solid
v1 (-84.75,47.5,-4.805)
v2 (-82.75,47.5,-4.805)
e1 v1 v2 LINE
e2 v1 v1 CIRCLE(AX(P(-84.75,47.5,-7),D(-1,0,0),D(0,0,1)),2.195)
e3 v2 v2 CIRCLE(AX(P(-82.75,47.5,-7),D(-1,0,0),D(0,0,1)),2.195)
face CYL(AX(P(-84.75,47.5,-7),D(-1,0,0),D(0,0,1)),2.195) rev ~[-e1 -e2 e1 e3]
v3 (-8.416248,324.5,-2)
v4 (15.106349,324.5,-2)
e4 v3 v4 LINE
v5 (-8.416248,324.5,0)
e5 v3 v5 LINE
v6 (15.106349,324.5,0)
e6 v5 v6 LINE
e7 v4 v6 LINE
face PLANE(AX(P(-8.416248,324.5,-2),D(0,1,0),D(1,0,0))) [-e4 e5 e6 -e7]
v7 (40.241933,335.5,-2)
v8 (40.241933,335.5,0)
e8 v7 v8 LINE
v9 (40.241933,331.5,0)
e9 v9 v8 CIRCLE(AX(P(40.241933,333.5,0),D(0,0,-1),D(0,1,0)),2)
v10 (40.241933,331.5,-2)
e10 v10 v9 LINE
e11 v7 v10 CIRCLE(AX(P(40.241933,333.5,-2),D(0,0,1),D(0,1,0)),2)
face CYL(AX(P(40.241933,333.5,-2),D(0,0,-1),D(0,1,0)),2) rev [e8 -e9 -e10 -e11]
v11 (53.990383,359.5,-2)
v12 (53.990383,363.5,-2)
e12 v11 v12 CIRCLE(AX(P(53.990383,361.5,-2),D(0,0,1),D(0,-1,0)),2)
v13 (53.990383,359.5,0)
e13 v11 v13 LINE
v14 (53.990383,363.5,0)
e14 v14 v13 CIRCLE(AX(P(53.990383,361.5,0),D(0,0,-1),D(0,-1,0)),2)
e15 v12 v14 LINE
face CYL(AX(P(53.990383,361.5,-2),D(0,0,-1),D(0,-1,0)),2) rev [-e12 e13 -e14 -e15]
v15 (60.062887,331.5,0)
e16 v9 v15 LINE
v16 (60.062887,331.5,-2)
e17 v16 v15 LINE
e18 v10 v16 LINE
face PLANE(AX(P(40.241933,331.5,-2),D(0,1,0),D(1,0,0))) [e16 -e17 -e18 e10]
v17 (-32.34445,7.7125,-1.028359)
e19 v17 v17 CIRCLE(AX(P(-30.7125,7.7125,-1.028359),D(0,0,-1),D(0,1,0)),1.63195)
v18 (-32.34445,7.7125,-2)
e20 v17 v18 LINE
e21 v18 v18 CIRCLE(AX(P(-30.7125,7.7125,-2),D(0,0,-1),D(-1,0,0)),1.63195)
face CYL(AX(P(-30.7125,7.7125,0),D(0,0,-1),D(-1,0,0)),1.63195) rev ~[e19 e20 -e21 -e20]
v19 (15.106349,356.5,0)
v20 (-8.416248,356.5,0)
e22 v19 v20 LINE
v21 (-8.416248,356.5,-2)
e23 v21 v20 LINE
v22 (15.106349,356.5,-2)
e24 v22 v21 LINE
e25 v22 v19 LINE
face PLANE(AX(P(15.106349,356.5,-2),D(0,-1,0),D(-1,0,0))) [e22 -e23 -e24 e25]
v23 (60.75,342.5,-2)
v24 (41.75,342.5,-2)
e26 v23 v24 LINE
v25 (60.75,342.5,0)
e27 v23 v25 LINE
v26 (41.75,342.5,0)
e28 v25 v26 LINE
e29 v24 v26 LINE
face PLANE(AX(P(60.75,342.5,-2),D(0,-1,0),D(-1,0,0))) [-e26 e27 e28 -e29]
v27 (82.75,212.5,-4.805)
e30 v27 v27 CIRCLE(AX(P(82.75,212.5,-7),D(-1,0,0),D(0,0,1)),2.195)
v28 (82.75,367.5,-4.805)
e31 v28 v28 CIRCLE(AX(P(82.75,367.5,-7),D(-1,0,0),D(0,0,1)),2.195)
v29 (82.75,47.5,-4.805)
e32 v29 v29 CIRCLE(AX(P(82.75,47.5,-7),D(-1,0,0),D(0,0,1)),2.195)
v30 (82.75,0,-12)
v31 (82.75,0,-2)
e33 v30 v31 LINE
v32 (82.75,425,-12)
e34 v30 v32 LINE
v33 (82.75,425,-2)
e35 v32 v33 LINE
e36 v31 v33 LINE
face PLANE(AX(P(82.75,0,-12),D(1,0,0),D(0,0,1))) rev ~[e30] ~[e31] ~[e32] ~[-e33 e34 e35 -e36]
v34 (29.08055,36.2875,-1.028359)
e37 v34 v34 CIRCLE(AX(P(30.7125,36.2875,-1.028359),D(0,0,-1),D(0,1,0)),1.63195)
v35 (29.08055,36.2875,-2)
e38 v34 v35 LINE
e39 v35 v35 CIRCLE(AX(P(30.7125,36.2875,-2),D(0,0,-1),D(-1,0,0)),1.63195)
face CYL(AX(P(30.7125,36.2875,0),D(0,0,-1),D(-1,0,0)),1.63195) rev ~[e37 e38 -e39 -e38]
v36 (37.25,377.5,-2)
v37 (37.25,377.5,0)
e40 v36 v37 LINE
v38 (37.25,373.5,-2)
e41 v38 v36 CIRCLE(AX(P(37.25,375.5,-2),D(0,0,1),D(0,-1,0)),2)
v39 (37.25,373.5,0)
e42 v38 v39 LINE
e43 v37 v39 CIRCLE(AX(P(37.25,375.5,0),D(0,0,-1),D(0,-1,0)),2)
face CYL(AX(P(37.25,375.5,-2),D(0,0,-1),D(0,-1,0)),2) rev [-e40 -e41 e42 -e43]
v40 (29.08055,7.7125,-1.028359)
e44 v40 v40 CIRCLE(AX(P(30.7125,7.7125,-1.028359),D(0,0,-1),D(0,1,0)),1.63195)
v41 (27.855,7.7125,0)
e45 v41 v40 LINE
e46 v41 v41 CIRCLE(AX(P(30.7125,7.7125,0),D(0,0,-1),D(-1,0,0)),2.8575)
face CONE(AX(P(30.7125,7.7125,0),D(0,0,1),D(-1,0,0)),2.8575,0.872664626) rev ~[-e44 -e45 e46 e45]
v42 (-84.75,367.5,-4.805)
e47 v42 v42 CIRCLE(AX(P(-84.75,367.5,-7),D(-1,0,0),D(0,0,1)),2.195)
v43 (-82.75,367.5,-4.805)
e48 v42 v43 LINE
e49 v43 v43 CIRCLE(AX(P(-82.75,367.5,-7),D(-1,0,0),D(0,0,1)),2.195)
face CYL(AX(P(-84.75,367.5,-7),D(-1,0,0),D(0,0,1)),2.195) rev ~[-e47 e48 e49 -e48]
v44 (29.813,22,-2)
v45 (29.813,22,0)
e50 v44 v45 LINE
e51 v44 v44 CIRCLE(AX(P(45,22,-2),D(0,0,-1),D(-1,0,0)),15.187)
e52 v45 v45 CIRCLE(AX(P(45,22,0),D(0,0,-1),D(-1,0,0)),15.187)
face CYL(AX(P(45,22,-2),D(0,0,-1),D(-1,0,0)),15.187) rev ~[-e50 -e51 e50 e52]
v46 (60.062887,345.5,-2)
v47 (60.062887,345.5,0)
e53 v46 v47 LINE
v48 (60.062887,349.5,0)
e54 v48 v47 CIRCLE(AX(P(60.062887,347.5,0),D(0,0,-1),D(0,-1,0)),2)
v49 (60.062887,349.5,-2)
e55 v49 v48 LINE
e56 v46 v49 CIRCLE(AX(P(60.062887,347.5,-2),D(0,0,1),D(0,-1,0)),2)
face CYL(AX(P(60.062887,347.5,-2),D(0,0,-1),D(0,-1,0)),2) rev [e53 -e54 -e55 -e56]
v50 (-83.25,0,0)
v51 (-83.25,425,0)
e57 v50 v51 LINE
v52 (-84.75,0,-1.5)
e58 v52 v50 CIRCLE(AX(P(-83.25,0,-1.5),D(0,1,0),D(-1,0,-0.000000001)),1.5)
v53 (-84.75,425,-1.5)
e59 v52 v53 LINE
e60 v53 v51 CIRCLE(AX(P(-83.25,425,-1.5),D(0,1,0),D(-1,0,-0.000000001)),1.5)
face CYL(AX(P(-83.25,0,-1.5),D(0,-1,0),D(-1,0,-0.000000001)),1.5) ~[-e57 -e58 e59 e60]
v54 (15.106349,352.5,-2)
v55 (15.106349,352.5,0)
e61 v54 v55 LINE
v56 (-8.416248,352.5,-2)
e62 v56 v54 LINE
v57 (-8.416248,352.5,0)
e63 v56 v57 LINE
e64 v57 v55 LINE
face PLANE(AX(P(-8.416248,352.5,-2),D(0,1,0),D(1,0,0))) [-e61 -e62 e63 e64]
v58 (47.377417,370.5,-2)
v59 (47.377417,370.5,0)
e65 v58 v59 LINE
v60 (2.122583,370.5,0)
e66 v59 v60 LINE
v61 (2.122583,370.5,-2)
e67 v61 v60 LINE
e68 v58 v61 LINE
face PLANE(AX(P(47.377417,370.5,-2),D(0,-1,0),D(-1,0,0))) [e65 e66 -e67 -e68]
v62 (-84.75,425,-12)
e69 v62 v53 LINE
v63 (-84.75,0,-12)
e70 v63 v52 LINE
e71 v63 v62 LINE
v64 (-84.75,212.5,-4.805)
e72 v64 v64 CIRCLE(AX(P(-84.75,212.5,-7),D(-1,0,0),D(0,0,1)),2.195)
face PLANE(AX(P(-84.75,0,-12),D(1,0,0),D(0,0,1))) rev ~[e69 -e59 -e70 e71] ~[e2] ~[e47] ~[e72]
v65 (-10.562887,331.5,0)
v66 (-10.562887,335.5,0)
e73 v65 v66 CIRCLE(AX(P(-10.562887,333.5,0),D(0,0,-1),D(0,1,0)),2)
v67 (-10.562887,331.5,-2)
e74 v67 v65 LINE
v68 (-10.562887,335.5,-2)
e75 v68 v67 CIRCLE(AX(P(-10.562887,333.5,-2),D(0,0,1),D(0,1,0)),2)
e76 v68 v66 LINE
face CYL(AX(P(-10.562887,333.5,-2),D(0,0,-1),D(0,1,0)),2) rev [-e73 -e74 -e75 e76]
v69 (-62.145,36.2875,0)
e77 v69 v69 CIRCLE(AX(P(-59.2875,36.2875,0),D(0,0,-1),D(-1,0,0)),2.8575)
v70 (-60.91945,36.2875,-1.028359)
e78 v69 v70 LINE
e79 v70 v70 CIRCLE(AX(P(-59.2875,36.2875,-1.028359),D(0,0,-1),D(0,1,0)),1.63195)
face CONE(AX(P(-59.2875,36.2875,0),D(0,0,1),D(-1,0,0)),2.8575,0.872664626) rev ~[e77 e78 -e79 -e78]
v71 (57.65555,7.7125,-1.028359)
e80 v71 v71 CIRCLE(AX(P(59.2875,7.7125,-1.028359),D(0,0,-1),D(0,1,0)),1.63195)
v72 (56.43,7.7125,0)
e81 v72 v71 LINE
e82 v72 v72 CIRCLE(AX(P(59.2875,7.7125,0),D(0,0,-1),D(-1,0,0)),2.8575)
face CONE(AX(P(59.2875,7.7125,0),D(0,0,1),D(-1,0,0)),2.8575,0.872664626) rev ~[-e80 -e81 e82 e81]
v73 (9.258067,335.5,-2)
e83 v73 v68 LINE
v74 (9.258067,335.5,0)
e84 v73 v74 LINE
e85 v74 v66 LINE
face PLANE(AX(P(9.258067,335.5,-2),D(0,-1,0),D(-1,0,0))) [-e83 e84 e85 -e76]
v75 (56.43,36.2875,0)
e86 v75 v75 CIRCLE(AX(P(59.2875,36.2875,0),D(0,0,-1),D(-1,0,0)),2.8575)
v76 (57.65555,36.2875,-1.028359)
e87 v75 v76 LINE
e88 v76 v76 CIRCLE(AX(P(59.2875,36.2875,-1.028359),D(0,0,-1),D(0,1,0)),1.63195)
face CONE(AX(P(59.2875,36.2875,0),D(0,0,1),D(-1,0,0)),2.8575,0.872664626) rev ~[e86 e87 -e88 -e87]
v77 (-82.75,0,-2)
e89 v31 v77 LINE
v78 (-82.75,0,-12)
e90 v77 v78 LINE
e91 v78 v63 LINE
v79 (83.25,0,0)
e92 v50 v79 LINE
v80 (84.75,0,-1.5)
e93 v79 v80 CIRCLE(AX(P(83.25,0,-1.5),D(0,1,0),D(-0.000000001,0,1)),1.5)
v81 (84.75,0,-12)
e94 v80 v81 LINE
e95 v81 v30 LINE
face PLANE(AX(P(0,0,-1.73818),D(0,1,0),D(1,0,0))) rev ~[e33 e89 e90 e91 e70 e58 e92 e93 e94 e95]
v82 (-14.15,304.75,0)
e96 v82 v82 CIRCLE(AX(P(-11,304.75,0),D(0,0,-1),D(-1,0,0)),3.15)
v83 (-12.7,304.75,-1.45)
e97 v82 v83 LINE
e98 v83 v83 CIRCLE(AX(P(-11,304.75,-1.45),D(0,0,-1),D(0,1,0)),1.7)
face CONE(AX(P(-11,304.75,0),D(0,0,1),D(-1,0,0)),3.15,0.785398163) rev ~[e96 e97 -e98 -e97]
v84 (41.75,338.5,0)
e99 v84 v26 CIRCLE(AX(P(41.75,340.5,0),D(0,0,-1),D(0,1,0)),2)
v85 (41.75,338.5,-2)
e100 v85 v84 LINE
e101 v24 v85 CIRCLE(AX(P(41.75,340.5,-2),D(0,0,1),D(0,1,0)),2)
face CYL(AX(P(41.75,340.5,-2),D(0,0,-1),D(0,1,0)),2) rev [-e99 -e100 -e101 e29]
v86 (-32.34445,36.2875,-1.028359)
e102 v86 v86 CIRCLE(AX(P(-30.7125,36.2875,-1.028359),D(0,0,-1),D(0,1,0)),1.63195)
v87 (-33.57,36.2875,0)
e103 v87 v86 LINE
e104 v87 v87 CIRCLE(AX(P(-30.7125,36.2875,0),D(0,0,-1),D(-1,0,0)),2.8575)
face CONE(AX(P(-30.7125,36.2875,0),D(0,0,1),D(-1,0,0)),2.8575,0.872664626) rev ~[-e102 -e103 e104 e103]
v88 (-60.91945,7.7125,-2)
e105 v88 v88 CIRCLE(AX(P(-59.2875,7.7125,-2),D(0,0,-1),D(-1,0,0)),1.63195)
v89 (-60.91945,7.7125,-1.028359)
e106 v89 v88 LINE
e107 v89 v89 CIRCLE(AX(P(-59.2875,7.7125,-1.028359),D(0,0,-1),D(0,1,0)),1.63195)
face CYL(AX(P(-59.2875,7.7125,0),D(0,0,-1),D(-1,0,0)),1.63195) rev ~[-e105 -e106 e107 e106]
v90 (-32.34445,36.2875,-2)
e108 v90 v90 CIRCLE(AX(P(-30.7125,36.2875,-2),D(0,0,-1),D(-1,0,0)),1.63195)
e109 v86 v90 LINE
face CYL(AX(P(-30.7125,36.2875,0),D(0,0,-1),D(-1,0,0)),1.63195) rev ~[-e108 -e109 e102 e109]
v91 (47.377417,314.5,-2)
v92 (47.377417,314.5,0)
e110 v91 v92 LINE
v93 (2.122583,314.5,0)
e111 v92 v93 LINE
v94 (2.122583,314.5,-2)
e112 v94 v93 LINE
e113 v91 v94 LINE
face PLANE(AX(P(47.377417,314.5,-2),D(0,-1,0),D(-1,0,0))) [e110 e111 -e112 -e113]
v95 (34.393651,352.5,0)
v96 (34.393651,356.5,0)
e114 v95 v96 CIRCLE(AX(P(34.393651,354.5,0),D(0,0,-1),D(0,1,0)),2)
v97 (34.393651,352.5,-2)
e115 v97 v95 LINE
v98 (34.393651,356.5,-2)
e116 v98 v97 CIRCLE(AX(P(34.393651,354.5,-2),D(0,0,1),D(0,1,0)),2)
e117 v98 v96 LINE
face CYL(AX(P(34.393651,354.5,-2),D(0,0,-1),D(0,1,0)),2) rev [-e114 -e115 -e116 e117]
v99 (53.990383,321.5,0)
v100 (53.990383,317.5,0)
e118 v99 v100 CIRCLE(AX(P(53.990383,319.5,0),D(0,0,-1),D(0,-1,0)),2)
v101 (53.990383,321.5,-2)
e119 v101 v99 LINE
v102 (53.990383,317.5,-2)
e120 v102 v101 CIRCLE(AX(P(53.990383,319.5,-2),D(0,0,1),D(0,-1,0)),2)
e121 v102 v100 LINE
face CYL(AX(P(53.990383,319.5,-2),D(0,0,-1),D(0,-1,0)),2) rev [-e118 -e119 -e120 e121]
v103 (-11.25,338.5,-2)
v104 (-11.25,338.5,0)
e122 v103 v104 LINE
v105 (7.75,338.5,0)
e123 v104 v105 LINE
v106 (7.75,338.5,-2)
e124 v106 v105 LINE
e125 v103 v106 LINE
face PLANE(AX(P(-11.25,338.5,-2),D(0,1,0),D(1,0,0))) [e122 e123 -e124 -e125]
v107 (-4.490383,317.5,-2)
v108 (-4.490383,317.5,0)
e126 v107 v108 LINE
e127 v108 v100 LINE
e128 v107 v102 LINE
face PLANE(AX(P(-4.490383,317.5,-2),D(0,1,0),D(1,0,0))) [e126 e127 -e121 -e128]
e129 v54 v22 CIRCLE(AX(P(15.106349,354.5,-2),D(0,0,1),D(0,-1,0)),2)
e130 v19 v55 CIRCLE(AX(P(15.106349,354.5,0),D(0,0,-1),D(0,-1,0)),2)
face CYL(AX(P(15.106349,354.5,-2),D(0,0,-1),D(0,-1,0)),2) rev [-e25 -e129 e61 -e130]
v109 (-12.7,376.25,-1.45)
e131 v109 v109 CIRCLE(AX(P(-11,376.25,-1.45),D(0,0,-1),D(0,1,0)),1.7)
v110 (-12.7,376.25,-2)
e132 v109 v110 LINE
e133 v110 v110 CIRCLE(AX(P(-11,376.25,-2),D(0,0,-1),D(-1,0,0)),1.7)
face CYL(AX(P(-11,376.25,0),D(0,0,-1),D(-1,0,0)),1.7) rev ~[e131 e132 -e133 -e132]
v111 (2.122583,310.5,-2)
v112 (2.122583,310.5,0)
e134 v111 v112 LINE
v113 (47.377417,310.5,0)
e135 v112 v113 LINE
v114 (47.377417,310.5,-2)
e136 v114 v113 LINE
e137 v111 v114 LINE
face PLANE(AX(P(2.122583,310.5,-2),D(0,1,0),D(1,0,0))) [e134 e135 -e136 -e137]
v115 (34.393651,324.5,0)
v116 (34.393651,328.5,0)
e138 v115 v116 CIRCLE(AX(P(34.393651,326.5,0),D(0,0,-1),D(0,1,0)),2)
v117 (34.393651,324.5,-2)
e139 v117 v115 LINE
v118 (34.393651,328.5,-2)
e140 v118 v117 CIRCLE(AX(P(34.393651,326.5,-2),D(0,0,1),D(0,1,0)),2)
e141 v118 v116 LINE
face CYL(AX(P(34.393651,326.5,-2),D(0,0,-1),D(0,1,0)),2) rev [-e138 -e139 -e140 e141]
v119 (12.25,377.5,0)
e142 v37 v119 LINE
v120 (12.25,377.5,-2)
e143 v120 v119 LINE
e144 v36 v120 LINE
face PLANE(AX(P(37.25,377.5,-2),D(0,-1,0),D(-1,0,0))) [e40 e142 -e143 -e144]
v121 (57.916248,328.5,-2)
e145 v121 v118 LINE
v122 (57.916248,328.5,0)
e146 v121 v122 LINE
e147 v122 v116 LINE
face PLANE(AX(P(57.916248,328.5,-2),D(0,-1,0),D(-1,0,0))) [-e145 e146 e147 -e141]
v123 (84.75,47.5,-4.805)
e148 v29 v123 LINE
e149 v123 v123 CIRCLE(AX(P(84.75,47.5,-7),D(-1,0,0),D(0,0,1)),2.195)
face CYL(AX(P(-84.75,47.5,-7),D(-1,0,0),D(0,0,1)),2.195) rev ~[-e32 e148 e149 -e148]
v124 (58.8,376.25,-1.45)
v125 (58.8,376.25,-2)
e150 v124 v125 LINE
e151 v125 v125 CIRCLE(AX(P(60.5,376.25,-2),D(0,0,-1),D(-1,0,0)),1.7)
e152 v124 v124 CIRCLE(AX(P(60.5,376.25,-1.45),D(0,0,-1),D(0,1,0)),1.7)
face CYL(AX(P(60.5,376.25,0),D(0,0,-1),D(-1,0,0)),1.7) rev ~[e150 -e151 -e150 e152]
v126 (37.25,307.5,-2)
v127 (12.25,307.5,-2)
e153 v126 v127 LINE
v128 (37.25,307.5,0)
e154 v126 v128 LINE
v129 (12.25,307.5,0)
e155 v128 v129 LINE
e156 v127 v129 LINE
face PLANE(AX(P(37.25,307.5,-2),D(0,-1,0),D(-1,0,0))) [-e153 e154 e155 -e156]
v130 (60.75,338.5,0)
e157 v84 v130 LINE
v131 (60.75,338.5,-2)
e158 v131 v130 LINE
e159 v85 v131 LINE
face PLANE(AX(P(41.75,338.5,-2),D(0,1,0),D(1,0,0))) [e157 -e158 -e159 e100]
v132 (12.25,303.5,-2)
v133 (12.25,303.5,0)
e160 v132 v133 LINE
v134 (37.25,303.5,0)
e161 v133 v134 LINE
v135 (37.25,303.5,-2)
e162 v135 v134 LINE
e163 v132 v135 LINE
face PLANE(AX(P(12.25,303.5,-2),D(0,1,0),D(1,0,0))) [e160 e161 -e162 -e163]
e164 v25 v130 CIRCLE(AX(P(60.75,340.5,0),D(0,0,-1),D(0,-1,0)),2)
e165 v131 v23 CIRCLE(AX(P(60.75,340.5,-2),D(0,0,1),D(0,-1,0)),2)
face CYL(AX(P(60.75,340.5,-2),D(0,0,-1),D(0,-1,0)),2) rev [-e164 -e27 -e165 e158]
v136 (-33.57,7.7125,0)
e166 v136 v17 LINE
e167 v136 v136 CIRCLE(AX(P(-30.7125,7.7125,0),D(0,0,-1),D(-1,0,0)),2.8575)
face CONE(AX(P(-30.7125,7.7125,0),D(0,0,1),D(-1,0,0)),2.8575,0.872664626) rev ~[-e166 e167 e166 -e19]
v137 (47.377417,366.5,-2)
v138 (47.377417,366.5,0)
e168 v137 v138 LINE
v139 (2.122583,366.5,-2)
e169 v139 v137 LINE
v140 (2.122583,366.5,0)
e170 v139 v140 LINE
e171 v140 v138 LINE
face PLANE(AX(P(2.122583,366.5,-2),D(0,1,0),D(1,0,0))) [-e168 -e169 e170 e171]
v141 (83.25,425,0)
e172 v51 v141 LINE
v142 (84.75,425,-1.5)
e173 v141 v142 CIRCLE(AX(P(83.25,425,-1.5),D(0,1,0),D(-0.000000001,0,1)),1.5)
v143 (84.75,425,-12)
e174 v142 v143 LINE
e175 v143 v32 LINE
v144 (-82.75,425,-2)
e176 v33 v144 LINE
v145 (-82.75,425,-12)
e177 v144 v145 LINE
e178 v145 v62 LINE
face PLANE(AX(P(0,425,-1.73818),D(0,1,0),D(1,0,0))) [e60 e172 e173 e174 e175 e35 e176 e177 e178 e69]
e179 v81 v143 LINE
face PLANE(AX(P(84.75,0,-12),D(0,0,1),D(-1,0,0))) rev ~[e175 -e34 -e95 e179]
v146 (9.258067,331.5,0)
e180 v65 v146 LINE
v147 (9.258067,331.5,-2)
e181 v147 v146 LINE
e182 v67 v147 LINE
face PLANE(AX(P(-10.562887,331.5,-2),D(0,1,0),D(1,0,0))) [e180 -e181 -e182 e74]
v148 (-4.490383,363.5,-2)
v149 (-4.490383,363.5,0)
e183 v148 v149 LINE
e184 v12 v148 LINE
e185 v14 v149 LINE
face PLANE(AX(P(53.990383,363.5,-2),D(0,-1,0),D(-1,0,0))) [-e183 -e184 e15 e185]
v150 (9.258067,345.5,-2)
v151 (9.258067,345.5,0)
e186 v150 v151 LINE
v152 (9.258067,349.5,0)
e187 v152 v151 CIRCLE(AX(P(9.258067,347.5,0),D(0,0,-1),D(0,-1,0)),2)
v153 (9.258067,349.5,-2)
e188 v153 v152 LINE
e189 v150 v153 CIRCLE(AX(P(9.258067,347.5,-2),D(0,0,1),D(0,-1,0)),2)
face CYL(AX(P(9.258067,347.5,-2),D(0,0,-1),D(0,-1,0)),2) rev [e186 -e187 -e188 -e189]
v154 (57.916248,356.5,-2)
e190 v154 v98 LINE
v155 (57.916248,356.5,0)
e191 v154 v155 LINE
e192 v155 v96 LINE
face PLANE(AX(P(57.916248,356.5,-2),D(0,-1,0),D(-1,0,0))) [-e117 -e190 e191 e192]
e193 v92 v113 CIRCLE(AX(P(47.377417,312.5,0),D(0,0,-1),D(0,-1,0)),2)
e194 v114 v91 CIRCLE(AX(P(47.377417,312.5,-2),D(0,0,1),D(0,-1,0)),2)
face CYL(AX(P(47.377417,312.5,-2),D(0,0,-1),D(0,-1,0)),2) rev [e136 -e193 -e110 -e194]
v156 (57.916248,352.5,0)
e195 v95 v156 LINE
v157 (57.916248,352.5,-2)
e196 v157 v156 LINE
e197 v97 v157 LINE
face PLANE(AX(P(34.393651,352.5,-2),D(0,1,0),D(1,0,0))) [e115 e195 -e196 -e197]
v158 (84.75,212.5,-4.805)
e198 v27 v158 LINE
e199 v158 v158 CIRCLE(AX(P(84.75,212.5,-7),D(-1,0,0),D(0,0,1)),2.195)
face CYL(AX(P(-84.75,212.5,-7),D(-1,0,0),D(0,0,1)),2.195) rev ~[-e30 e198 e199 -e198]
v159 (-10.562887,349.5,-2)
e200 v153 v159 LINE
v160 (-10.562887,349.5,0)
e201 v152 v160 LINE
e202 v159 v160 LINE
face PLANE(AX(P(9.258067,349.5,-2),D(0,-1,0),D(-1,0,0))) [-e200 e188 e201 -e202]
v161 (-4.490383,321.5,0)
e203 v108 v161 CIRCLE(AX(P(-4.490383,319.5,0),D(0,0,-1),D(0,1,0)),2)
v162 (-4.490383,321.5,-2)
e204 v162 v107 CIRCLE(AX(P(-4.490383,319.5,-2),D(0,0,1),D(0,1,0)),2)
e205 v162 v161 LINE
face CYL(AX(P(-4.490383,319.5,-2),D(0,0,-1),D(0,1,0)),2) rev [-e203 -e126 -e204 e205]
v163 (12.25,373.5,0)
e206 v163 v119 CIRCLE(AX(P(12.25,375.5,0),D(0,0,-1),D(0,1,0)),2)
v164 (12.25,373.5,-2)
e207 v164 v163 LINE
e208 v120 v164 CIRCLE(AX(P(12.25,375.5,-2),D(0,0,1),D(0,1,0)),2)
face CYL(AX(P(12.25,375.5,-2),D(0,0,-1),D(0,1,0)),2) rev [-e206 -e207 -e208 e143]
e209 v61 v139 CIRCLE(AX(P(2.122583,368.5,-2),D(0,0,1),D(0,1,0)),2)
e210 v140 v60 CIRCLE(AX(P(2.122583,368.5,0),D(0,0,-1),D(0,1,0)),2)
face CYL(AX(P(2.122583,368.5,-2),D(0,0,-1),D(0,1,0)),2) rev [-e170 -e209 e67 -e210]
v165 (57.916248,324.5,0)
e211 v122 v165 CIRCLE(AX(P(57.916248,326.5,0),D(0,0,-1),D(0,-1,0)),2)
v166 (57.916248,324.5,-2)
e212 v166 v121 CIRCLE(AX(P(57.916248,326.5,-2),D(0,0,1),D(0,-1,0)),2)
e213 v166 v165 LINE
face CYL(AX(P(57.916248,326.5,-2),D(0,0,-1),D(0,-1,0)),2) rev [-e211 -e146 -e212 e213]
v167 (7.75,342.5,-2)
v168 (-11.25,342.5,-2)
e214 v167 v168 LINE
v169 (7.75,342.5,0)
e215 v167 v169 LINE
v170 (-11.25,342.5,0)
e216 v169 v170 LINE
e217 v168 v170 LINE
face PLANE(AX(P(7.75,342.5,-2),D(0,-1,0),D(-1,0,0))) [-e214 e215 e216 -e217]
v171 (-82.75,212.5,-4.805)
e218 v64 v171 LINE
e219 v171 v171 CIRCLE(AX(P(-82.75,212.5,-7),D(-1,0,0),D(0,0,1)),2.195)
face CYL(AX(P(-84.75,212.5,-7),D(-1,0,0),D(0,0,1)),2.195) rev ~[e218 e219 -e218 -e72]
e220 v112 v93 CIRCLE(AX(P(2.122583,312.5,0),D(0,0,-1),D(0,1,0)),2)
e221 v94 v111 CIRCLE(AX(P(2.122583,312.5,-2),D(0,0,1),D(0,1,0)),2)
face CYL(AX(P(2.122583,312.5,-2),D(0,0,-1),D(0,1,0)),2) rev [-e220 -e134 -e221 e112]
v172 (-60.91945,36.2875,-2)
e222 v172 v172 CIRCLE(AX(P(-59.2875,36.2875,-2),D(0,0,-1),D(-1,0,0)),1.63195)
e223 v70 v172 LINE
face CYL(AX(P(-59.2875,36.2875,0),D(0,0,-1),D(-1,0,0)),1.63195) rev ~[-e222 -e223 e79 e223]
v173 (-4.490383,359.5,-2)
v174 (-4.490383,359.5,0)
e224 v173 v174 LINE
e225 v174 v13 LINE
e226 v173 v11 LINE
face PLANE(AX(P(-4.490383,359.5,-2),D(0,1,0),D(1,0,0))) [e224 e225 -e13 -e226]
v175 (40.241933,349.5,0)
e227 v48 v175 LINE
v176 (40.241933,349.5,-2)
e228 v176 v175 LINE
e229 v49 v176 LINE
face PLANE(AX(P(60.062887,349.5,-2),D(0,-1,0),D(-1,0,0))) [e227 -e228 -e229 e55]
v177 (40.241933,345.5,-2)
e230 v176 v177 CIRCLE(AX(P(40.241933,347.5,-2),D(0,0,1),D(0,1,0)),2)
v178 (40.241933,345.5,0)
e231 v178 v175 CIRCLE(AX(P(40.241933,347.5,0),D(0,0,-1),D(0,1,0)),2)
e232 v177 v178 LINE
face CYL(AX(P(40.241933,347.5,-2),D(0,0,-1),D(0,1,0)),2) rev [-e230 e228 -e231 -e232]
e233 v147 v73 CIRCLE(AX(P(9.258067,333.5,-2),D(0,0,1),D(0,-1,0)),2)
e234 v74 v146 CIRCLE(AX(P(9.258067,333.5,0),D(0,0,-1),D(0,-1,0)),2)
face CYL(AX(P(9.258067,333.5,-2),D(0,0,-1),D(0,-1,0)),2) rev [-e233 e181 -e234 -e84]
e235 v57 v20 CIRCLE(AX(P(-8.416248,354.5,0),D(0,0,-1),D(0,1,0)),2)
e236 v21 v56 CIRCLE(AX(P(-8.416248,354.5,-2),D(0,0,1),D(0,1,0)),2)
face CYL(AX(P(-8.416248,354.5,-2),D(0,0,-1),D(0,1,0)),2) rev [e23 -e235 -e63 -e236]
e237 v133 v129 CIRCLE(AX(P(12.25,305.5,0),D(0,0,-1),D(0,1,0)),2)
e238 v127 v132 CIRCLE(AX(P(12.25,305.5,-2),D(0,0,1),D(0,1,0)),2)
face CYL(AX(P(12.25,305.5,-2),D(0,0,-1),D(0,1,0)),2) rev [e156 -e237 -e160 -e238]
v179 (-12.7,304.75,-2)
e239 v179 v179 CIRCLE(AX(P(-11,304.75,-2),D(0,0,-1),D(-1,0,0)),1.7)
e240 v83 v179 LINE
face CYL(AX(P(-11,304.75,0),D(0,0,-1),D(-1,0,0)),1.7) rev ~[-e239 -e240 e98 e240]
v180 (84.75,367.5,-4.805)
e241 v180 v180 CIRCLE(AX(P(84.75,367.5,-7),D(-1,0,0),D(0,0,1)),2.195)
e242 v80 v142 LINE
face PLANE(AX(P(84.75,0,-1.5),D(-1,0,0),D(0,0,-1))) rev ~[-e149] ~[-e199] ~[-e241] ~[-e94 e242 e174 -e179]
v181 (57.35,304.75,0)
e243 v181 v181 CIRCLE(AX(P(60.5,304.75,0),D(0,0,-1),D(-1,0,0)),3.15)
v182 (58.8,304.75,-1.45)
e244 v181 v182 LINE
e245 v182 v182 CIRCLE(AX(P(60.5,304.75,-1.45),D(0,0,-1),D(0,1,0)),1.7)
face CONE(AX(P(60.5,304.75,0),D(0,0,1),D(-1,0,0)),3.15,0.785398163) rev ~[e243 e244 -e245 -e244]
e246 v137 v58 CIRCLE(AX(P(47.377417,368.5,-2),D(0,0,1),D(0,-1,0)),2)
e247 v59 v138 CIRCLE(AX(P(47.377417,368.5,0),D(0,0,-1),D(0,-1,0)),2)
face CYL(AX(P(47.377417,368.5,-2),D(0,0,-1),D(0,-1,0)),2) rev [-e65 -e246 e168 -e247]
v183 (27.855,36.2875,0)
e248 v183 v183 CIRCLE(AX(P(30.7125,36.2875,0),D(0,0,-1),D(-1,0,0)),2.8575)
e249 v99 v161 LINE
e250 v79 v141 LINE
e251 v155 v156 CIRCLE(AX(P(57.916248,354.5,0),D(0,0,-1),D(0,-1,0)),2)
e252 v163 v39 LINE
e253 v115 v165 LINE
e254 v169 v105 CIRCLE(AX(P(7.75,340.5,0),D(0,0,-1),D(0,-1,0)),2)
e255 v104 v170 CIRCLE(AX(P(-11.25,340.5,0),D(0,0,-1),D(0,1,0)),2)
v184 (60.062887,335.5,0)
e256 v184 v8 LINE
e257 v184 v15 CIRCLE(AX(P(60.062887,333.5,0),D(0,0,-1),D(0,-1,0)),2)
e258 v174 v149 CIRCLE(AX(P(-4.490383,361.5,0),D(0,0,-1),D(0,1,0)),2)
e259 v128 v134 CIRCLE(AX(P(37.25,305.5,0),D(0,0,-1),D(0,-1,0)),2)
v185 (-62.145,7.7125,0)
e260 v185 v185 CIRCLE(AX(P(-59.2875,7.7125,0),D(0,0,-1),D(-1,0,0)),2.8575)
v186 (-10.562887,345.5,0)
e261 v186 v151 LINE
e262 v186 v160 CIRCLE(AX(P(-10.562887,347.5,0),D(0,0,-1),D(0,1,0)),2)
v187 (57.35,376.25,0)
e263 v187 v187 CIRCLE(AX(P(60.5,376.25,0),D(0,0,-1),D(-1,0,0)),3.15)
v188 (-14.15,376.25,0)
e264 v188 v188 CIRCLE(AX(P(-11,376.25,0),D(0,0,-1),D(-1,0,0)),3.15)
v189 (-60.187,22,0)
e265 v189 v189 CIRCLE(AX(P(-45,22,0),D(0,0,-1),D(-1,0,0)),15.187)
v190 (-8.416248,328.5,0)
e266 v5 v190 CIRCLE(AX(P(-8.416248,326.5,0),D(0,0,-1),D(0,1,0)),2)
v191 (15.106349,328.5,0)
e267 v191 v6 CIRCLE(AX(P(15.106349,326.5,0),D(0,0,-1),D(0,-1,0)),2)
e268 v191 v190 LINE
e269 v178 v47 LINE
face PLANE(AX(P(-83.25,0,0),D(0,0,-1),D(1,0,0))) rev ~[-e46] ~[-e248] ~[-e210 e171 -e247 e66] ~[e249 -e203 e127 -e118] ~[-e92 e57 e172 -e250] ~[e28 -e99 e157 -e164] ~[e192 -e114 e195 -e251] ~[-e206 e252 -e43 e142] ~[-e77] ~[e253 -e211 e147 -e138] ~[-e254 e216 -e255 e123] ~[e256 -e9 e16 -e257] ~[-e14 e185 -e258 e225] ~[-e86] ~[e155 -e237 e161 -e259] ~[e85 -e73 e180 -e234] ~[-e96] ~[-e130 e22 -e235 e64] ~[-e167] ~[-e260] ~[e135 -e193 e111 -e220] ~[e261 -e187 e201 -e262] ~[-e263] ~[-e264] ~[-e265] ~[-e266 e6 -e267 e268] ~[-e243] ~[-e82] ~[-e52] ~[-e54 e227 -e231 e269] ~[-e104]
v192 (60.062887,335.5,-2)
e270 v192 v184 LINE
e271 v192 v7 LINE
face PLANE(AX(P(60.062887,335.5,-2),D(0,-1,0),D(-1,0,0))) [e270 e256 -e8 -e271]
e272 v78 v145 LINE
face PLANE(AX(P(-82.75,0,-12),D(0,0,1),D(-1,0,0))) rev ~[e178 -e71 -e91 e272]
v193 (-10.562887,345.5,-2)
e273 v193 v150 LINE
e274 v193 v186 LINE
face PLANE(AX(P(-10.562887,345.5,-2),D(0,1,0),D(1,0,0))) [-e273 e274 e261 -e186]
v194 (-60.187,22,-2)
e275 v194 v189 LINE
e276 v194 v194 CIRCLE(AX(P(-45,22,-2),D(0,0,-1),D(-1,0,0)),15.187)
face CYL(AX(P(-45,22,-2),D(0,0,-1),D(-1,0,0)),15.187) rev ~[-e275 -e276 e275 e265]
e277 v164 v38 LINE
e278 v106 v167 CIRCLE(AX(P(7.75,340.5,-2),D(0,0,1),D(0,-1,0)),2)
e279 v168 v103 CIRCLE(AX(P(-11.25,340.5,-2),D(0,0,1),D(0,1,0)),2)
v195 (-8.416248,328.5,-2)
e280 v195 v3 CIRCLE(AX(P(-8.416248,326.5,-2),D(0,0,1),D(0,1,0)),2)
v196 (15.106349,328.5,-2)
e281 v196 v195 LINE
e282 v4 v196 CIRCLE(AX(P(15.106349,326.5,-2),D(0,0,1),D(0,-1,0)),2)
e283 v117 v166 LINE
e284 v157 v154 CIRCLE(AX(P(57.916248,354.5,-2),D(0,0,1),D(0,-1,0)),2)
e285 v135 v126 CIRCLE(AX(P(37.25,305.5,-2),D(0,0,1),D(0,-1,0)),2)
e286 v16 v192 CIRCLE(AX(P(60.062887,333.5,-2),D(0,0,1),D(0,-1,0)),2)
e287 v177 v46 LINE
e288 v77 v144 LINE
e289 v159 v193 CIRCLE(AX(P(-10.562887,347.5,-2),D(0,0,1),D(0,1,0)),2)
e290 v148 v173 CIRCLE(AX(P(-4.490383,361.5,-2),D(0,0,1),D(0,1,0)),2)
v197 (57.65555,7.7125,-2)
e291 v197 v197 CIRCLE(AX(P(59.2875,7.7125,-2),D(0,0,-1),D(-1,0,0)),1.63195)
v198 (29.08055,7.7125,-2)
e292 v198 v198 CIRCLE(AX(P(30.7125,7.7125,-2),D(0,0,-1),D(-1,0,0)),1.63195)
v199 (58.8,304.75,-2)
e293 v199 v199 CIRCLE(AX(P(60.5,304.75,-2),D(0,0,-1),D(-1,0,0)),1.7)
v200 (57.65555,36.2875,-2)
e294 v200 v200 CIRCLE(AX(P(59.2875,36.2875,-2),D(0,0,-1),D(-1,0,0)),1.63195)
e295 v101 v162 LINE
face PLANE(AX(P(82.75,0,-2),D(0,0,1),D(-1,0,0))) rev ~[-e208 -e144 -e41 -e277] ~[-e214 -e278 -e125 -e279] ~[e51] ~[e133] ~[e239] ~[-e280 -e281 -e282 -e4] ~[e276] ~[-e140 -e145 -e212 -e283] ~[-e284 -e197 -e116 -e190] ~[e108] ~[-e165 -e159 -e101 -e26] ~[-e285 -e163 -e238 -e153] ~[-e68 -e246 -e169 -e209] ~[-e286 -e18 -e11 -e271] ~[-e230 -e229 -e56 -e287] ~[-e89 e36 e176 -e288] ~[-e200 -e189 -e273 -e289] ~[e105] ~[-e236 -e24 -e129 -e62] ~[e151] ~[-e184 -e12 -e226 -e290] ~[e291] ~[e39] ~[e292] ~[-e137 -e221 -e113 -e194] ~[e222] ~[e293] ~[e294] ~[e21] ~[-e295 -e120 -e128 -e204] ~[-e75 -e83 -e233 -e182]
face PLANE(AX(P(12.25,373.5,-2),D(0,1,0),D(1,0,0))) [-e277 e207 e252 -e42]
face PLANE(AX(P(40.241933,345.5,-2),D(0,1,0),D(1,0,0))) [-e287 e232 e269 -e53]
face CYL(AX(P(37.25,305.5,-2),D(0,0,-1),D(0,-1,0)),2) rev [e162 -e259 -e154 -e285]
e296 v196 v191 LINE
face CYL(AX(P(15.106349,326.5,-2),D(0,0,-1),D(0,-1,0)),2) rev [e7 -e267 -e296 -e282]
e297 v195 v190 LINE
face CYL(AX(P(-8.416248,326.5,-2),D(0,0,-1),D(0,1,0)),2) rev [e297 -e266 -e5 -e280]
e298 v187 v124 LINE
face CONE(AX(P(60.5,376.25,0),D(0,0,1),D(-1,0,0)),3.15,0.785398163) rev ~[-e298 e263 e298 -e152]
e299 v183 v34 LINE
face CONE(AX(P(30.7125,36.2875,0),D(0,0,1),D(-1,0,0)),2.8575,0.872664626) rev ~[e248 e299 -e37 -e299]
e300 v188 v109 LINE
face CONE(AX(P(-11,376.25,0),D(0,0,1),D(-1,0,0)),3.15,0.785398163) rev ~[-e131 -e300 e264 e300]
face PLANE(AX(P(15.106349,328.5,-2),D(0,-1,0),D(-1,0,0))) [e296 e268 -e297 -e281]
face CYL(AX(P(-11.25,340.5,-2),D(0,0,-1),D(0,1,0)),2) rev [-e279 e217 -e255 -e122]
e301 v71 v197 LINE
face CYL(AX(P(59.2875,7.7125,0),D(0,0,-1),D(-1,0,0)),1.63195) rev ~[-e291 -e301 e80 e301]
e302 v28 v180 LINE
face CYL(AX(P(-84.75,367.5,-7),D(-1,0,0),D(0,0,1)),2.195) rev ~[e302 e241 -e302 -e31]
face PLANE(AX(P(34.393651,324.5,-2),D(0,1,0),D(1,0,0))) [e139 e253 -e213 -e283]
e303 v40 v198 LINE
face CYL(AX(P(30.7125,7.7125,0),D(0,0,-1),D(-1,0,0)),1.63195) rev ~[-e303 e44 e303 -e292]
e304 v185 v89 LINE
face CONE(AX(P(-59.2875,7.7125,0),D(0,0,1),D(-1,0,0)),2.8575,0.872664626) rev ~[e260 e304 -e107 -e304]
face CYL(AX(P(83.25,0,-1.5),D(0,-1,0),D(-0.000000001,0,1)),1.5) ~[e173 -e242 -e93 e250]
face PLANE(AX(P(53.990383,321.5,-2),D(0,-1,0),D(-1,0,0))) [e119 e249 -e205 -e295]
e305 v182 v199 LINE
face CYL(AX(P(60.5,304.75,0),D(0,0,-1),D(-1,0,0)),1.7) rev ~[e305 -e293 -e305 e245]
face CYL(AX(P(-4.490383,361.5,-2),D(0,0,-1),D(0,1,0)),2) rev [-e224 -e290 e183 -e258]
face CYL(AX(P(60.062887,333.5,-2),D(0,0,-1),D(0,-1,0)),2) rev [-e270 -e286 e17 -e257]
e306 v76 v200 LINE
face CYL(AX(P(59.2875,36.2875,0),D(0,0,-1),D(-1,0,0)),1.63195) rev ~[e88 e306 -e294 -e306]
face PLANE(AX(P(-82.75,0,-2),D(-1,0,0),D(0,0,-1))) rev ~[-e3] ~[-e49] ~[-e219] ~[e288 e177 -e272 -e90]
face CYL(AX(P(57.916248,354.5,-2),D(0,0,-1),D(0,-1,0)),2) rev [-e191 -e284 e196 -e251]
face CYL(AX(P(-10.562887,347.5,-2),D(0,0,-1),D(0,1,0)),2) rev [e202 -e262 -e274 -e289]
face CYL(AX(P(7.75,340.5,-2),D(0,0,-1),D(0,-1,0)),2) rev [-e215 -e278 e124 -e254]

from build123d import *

# Parameters (mm, degrees)
EXTRUDE_THIN1_DEPTH                               = 425
SKETCH2_R                                         = 1
SKETCH2_R_2                                       = 15.187
CUT_EXTRUDE1_DEPTH                                = 10
SKETCH3_R                                         = 2.195
CUT_EXTRUDE2_DEPTH                                = 458.71088036
CSK_FOR_4_FLAT_HEAD_MACHINE_SCREW_100_D           = 3.2639
CSK_FOR_4_FLAT_HEAD_MACHINE_SCREW_100_DEPTH       = 10
CSK_FOR_4_FLAT_HEAD_MACHINE_SCREW_100_CSINK_D     = 5.715
CSK_FOR_4_FLAT_HEAD_MACHINE_SCREW_100_CSINK_ANGLE = 100
CSK_FOR_4_FLAT_HEAD_MACHINE_SCREW_100_TIP         = 0.980574487
CSK_FOR_M3_FLAT_HEAD_MACHINE_SCREW1_D             = 3.4
CSK_FOR_M3_FLAT_HEAD_MACHINE_SCREW1_DEPTH         = 10
CSK_FOR_M3_FLAT_HEAD_MACHINE_SCREW1_CSINK_D       = 6.3
CSK_FOR_M3_FLAT_HEAD_MACHINE_SCREW1_CSINK_ANGLE   = 90
CSK_FOR_M3_FLAT_HEAD_MACHINE_SCREW1_TIP           = 1.021463052


with BuildPart() as part:
    # Sketch1 → Extrude-Thin1 (new body)
    with BuildSketch(Plane(origin=(0, 0, 0), x_dir=(1, 0, 0), z_dir=(0, 1, 0))):
        with BuildLine():
            Line((-84.75, 12), (-84.75, 1.5))
            ThreePointArc((-84.75, 1.5), (-84.310660172, 0.439339828), (-83.25, 0))
            Line((-83.25, 0), (83.25, 0))
            ThreePointArc((83.25, 0), (84.310660172, 0.439339828), (84.75, 1.5))
            Line((84.75, 1.5), (84.75, 12))
            Line((84.75, 12), (82.75, 12))
            Line((82.75, 12), (82.75, 2))
            Line((82.75, 2), (-82.75, 2))
            Line((-82.75, 2), (-82.75, 12))
            Line((-82.75, 12), (-84.75, 12))
        make_face()
    extrude(amount=EXTRUDE_THIN1_DEPTH)

    # Sketch2 → Cut-Extrude1 (cut)
    with BuildSketch(Plane(origin=(0, 0, -2), x_dir=(-1, 0, 0), z_dir=(0, 0, -1))):
        with Locations((-60.5, 376.25)):
            Circle(SKETCH2_R)
        with Locations((11, 376.25)):
            Circle(SKETCH2_R)
        with Locations((-60.5, 304.75)):
            Circle(SKETCH2_R)
        with Locations((11, 304.75)):
            Circle(SKETCH2_R)
        with Locations((45, 22)):
            Circle(SKETCH2_R_2)
        with Locations((-45, 22)):
            Circle(SKETCH2_R_2)
        with Locations((-59.2875, 7.7125)):
            Circle(SKETCH2_R)
        with Locations((-30.7125, 7.7125)):
            Circle(SKETCH2_R)
        with Locations((-30.7125, 36.2875)):
            Circle(SKETCH2_R)
        with Locations((-59.2875, 36.2875)):
            Circle(SKETCH2_R)
        with Locations((30.7125, 36.2875)):
            Circle(SKETCH2_R)
        with Locations((59.2875, 36.2875)):
            Circle(SKETCH2_R)
        with Locations((59.2875, 7.7125)):
            Circle(SKETCH2_R)
        with Locations((30.7125, 7.7125)):
            Circle(SKETCH2_R)
        with BuildLine():
            Line((-60.75, 342.5), (-41.75, 342.5))
            ThreePointArc((-41.75, 342.5), (-39.75, 340.5), (-41.75, 338.5))
            Line((-41.75, 338.5), (-60.75, 338.5))
            ThreePointArc((-60.75, 338.5), (-62.75, 340.5), (-60.75, 342.5))
        make_face()
        with BuildLine():
            Line((-7.75, 342.5), (11.25, 342.5))
            ThreePointArc((11.25, 342.5), (13.25, 340.5), (11.25, 338.5))
            Line((11.25, 338.5), (-7.75, 338.5))
            ThreePointArc((-7.75, 338.5), (-9.75, 340.5), (-7.75, 342.5))
        make_face()
        with BuildLine():
            Line((-60.062887166, 349.5), (-40.241933385, 349.5))
            ThreePointArc((-40.241933385, 349.5), (-38.241933385, 347.5), (-40.241933385, 345.5))
            Line((-40.241933385, 345.5), (-60.062887166, 345.5))
            ThreePointArc((-60.062887166, 345.5), (-62.062887166, 347.5), (-60.062887166, 349.5))
        make_face()
        with BuildLine():
            Line((-57.916247904, 356.5), (-34.393650761, 356.5))
            ThreePointArc((-34.393650761, 356.5), (-32.393650761, 354.5), (-34.393650761, 352.5))
            Line((-34.393650761, 352.5), (-57.916247904, 352.5))
            ThreePointArc((-57.916247904, 352.5), (-59.916247904, 354.5), (-57.916247904, 356.5))
        make_face()
        with BuildLine():
            Line((-9.258066615, 349.5), (10.562887166, 349.5))
            ThreePointArc((10.562887166, 349.5), (12.562887166, 347.5), (10.562887166, 345.5))
            Line((10.562887166, 345.5), (-9.258066615, 345.5))
            ThreePointArc((-9.258066615, 345.5), (-11.258066615, 347.5), (-9.258066615, 349.5))
        make_face()
        with BuildLine():
            Line((-15.106349239, 356.5), (8.416247904, 356.5))
            ThreePointArc((8.416247904, 356.5), (10.416247904, 354.5), (8.416247904, 352.5))
            Line((8.416247904, 352.5), (-15.106349239, 352.5))
            ThreePointArc((-15.106349239, 352.5), (-17.106349239, 354.5), (-15.106349239, 356.5))
        make_face()
        with BuildLine():
            Line((-9.258066615, 335.5), (10.562887166, 335.5))
            ThreePointArc((10.562887166, 335.5), (12.562887166, 333.5), (10.562887166, 331.5))
            Line((10.562887166, 331.5), (-9.258066615, 331.5))
            ThreePointArc((-9.258066615, 331.5), (-11.258066615, 333.5), (-9.258066615, 335.5))
        make_face()
        with BuildLine():
            Line((-15.106349239, 328.5), (8.416247904, 328.5))
            ThreePointArc((8.416247904, 328.5), (10.416247904, 326.5), (8.416247904, 324.5))
            Line((8.416247904, 324.5), (-15.106349239, 324.5))
            ThreePointArc((-15.106349239, 324.5), (-17.106349239, 326.5), (-15.106349239, 328.5))
        make_face()
        with BuildLine():
            Line((-60.062887166, 335.5), (-40.241933385, 335.5))
            ThreePointArc((-40.241933385, 335.5), (-38.241933385, 333.5), (-40.241933385, 331.5))
            Line((-40.241933385, 331.5), (-60.062887166, 331.5))
            ThreePointArc((-60.062887166, 331.5), (-62.062887166, 333.5), (-60.062887166, 335.5))
        make_face()
        with BuildLine():
            Line((-57.916247904, 328.5), (-34.393650761, 328.5))
            ThreePointArc((-34.393650761, 328.5), (-32.393650761, 326.5), (-34.393650761, 324.5))
            Line((-34.393650761, 324.5), (-57.916247904, 324.5))
            ThreePointArc((-57.916247904, 324.5), (-59.916247904, 326.5), (-57.916247904, 328.5))
        make_face()
        with BuildLine():
            Line((-53.990383034, 363.5), (4.490383034, 363.5))
            ThreePointArc((4.490383034, 363.5), (6.490383034, 361.5), (4.490383034, 359.5))
            Line((4.490383034, 359.5), (-53.990383034, 359.5))
            ThreePointArc((-53.990383034, 359.5), (-55.990383034, 361.5), (-53.990383034, 363.5))
        make_face()
        with BuildLine():
            Line((-47.377416998, 370.5), (-2.122583002, 370.5))
            ThreePointArc((-2.122583002, 370.5), (-0.122583002, 368.5), (-2.122583002, 366.5))
            Line((-2.122583002, 366.5), (-47.377416998, 366.5))
            ThreePointArc((-47.377416998, 366.5), (-49.377416998, 368.5), (-47.377416998, 370.5))
        make_face()
        with BuildLine():
            Line((-37.25, 377.5), (-12.25, 377.5))
            ThreePointArc((-12.25, 377.5), (-10.25, 375.5), (-12.25, 373.5))
            Line((-12.25, 373.5), (-37.25, 373.5))
            ThreePointArc((-37.25, 373.5), (-39.25, 375.5), (-37.25, 377.5))
        make_face()
        with BuildLine():
            Line((-53.990383034, 321.5), (4.490383034, 321.5))
            ThreePointArc((4.490383034, 321.5), (6.490383034, 319.5), (4.490383034, 317.5))
            Line((4.490383034, 317.5), (-53.990383034, 317.5))
            ThreePointArc((-53.990383034, 317.5), (-55.990383034, 319.5), (-53.990383034, 321.5))
        make_face()
        with BuildLine():
            Line((-47.377416998, 314.5), (-2.122583002, 314.5))
            ThreePointArc((-2.122583002, 314.5), (-0.122583002, 312.5), (-2.122583002, 310.5))
            Line((-2.122583002, 310.5), (-47.377416998, 310.5))
            ThreePointArc((-47.377416998, 310.5), (-49.377416998, 312.5), (-47.377416998, 314.5))
        make_face()
        with BuildLine():
            Line((-37.25, 307.5), (-12.25, 307.5))
            ThreePointArc((-12.25, 307.5), (-10.25, 305.5), (-12.25, 303.5))
            Line((-12.25, 303.5), (-37.25, 303.5))
            ThreePointArc((-37.25, 303.5), (-39.25, 305.5), (-37.25, 307.5))
        make_face()
    extrude(amount=-CUT_EXTRUDE1_DEPTH, mode=Mode.SUBTRACT)

    # Sketch3 → Cut-Extrude2 (cut, through all)
    with BuildSketch(Plane.ZY.offset(84.75)):
        with Locations((-7, 367.5)):
            Circle(SKETCH3_R)
        with Locations((-7, 212.5)):
            Circle(SKETCH3_R)
        with Locations((-7, 47.5)):
            Circle(SKETCH3_R)
    extrude(amount=-CUT_EXTRUDE2_DEPTH, mode=Mode.SUBTRACT)

    # CSK for #4 Flat Head Machine Screw (100)1
    with Locations(Plane.XY):
        with Locations((-59.2875, 36.2875), (-59.2875, 7.7125), (-30.7125, 7.7125), (-30.7125, 36.2875), (30.7125, 36.2875), (59.2875, 36.2875), (59.2875, 7.7125), (30.7125, 7.7125)):
            CounterSinkHole(CSK_FOR_4_FLAT_HEAD_MACHINE_SCREW_100_D / 2, CSK_FOR_4_FLAT_HEAD_MACHINE_SCREW_100_CSINK_D / 2, depth=CSK_FOR_4_FLAT_HEAD_MACHINE_SCREW_100_DEPTH, counter_sink_angle=CSK_FOR_4_FLAT_HEAD_MACHINE_SCREW_100_CSINK_ANGLE)
            with Locations((0, 0, -(CSK_FOR_4_FLAT_HEAD_MACHINE_SCREW_100_DEPTH + CSK_FOR_4_FLAT_HEAD_MACHINE_SCREW_100_TIP / 2))):  # 118° drill point
                Cone(0, CSK_FOR_4_FLAT_HEAD_MACHINE_SCREW_100_D / 2, CSK_FOR_4_FLAT_HEAD_MACHINE_SCREW_100_TIP, mode=Mode.SUBTRACT)

    # CSK for M3 Flat Head Machine Screw1
    with Locations(Plane.XY):
        with Locations((-11, 376.25), (60.5, 376.25), (60.5, 304.75), (-11, 304.75)):
            CounterSinkHole(CSK_FOR_M3_FLAT_HEAD_MACHINE_SCREW1_D / 2, CSK_FOR_M3_FLAT_HEAD_MACHINE_SCREW1_CSINK_D / 2, depth=CSK_FOR_M3_FLAT_HEAD_MACHINE_SCREW1_DEPTH, counter_sink_angle=CSK_FOR_M3_FLAT_HEAD_MACHINE_SCREW1_CSINK_ANGLE)
            with Locations((0, 0, -(CSK_FOR_M3_FLAT_HEAD_MACHINE_SCREW1_DEPTH + CSK_FOR_M3_FLAT_HEAD_MACHINE_SCREW1_TIP / 2))):  # 118° drill point
                Cone(0, CSK_FOR_M3_FLAT_HEAD_MACHINE_SCREW1_D / 2, CSK_FOR_M3_FLAT_HEAD_MACHINE_SCREW1_TIP, mode=Mode.SUBTRACT)


solid = part.part
